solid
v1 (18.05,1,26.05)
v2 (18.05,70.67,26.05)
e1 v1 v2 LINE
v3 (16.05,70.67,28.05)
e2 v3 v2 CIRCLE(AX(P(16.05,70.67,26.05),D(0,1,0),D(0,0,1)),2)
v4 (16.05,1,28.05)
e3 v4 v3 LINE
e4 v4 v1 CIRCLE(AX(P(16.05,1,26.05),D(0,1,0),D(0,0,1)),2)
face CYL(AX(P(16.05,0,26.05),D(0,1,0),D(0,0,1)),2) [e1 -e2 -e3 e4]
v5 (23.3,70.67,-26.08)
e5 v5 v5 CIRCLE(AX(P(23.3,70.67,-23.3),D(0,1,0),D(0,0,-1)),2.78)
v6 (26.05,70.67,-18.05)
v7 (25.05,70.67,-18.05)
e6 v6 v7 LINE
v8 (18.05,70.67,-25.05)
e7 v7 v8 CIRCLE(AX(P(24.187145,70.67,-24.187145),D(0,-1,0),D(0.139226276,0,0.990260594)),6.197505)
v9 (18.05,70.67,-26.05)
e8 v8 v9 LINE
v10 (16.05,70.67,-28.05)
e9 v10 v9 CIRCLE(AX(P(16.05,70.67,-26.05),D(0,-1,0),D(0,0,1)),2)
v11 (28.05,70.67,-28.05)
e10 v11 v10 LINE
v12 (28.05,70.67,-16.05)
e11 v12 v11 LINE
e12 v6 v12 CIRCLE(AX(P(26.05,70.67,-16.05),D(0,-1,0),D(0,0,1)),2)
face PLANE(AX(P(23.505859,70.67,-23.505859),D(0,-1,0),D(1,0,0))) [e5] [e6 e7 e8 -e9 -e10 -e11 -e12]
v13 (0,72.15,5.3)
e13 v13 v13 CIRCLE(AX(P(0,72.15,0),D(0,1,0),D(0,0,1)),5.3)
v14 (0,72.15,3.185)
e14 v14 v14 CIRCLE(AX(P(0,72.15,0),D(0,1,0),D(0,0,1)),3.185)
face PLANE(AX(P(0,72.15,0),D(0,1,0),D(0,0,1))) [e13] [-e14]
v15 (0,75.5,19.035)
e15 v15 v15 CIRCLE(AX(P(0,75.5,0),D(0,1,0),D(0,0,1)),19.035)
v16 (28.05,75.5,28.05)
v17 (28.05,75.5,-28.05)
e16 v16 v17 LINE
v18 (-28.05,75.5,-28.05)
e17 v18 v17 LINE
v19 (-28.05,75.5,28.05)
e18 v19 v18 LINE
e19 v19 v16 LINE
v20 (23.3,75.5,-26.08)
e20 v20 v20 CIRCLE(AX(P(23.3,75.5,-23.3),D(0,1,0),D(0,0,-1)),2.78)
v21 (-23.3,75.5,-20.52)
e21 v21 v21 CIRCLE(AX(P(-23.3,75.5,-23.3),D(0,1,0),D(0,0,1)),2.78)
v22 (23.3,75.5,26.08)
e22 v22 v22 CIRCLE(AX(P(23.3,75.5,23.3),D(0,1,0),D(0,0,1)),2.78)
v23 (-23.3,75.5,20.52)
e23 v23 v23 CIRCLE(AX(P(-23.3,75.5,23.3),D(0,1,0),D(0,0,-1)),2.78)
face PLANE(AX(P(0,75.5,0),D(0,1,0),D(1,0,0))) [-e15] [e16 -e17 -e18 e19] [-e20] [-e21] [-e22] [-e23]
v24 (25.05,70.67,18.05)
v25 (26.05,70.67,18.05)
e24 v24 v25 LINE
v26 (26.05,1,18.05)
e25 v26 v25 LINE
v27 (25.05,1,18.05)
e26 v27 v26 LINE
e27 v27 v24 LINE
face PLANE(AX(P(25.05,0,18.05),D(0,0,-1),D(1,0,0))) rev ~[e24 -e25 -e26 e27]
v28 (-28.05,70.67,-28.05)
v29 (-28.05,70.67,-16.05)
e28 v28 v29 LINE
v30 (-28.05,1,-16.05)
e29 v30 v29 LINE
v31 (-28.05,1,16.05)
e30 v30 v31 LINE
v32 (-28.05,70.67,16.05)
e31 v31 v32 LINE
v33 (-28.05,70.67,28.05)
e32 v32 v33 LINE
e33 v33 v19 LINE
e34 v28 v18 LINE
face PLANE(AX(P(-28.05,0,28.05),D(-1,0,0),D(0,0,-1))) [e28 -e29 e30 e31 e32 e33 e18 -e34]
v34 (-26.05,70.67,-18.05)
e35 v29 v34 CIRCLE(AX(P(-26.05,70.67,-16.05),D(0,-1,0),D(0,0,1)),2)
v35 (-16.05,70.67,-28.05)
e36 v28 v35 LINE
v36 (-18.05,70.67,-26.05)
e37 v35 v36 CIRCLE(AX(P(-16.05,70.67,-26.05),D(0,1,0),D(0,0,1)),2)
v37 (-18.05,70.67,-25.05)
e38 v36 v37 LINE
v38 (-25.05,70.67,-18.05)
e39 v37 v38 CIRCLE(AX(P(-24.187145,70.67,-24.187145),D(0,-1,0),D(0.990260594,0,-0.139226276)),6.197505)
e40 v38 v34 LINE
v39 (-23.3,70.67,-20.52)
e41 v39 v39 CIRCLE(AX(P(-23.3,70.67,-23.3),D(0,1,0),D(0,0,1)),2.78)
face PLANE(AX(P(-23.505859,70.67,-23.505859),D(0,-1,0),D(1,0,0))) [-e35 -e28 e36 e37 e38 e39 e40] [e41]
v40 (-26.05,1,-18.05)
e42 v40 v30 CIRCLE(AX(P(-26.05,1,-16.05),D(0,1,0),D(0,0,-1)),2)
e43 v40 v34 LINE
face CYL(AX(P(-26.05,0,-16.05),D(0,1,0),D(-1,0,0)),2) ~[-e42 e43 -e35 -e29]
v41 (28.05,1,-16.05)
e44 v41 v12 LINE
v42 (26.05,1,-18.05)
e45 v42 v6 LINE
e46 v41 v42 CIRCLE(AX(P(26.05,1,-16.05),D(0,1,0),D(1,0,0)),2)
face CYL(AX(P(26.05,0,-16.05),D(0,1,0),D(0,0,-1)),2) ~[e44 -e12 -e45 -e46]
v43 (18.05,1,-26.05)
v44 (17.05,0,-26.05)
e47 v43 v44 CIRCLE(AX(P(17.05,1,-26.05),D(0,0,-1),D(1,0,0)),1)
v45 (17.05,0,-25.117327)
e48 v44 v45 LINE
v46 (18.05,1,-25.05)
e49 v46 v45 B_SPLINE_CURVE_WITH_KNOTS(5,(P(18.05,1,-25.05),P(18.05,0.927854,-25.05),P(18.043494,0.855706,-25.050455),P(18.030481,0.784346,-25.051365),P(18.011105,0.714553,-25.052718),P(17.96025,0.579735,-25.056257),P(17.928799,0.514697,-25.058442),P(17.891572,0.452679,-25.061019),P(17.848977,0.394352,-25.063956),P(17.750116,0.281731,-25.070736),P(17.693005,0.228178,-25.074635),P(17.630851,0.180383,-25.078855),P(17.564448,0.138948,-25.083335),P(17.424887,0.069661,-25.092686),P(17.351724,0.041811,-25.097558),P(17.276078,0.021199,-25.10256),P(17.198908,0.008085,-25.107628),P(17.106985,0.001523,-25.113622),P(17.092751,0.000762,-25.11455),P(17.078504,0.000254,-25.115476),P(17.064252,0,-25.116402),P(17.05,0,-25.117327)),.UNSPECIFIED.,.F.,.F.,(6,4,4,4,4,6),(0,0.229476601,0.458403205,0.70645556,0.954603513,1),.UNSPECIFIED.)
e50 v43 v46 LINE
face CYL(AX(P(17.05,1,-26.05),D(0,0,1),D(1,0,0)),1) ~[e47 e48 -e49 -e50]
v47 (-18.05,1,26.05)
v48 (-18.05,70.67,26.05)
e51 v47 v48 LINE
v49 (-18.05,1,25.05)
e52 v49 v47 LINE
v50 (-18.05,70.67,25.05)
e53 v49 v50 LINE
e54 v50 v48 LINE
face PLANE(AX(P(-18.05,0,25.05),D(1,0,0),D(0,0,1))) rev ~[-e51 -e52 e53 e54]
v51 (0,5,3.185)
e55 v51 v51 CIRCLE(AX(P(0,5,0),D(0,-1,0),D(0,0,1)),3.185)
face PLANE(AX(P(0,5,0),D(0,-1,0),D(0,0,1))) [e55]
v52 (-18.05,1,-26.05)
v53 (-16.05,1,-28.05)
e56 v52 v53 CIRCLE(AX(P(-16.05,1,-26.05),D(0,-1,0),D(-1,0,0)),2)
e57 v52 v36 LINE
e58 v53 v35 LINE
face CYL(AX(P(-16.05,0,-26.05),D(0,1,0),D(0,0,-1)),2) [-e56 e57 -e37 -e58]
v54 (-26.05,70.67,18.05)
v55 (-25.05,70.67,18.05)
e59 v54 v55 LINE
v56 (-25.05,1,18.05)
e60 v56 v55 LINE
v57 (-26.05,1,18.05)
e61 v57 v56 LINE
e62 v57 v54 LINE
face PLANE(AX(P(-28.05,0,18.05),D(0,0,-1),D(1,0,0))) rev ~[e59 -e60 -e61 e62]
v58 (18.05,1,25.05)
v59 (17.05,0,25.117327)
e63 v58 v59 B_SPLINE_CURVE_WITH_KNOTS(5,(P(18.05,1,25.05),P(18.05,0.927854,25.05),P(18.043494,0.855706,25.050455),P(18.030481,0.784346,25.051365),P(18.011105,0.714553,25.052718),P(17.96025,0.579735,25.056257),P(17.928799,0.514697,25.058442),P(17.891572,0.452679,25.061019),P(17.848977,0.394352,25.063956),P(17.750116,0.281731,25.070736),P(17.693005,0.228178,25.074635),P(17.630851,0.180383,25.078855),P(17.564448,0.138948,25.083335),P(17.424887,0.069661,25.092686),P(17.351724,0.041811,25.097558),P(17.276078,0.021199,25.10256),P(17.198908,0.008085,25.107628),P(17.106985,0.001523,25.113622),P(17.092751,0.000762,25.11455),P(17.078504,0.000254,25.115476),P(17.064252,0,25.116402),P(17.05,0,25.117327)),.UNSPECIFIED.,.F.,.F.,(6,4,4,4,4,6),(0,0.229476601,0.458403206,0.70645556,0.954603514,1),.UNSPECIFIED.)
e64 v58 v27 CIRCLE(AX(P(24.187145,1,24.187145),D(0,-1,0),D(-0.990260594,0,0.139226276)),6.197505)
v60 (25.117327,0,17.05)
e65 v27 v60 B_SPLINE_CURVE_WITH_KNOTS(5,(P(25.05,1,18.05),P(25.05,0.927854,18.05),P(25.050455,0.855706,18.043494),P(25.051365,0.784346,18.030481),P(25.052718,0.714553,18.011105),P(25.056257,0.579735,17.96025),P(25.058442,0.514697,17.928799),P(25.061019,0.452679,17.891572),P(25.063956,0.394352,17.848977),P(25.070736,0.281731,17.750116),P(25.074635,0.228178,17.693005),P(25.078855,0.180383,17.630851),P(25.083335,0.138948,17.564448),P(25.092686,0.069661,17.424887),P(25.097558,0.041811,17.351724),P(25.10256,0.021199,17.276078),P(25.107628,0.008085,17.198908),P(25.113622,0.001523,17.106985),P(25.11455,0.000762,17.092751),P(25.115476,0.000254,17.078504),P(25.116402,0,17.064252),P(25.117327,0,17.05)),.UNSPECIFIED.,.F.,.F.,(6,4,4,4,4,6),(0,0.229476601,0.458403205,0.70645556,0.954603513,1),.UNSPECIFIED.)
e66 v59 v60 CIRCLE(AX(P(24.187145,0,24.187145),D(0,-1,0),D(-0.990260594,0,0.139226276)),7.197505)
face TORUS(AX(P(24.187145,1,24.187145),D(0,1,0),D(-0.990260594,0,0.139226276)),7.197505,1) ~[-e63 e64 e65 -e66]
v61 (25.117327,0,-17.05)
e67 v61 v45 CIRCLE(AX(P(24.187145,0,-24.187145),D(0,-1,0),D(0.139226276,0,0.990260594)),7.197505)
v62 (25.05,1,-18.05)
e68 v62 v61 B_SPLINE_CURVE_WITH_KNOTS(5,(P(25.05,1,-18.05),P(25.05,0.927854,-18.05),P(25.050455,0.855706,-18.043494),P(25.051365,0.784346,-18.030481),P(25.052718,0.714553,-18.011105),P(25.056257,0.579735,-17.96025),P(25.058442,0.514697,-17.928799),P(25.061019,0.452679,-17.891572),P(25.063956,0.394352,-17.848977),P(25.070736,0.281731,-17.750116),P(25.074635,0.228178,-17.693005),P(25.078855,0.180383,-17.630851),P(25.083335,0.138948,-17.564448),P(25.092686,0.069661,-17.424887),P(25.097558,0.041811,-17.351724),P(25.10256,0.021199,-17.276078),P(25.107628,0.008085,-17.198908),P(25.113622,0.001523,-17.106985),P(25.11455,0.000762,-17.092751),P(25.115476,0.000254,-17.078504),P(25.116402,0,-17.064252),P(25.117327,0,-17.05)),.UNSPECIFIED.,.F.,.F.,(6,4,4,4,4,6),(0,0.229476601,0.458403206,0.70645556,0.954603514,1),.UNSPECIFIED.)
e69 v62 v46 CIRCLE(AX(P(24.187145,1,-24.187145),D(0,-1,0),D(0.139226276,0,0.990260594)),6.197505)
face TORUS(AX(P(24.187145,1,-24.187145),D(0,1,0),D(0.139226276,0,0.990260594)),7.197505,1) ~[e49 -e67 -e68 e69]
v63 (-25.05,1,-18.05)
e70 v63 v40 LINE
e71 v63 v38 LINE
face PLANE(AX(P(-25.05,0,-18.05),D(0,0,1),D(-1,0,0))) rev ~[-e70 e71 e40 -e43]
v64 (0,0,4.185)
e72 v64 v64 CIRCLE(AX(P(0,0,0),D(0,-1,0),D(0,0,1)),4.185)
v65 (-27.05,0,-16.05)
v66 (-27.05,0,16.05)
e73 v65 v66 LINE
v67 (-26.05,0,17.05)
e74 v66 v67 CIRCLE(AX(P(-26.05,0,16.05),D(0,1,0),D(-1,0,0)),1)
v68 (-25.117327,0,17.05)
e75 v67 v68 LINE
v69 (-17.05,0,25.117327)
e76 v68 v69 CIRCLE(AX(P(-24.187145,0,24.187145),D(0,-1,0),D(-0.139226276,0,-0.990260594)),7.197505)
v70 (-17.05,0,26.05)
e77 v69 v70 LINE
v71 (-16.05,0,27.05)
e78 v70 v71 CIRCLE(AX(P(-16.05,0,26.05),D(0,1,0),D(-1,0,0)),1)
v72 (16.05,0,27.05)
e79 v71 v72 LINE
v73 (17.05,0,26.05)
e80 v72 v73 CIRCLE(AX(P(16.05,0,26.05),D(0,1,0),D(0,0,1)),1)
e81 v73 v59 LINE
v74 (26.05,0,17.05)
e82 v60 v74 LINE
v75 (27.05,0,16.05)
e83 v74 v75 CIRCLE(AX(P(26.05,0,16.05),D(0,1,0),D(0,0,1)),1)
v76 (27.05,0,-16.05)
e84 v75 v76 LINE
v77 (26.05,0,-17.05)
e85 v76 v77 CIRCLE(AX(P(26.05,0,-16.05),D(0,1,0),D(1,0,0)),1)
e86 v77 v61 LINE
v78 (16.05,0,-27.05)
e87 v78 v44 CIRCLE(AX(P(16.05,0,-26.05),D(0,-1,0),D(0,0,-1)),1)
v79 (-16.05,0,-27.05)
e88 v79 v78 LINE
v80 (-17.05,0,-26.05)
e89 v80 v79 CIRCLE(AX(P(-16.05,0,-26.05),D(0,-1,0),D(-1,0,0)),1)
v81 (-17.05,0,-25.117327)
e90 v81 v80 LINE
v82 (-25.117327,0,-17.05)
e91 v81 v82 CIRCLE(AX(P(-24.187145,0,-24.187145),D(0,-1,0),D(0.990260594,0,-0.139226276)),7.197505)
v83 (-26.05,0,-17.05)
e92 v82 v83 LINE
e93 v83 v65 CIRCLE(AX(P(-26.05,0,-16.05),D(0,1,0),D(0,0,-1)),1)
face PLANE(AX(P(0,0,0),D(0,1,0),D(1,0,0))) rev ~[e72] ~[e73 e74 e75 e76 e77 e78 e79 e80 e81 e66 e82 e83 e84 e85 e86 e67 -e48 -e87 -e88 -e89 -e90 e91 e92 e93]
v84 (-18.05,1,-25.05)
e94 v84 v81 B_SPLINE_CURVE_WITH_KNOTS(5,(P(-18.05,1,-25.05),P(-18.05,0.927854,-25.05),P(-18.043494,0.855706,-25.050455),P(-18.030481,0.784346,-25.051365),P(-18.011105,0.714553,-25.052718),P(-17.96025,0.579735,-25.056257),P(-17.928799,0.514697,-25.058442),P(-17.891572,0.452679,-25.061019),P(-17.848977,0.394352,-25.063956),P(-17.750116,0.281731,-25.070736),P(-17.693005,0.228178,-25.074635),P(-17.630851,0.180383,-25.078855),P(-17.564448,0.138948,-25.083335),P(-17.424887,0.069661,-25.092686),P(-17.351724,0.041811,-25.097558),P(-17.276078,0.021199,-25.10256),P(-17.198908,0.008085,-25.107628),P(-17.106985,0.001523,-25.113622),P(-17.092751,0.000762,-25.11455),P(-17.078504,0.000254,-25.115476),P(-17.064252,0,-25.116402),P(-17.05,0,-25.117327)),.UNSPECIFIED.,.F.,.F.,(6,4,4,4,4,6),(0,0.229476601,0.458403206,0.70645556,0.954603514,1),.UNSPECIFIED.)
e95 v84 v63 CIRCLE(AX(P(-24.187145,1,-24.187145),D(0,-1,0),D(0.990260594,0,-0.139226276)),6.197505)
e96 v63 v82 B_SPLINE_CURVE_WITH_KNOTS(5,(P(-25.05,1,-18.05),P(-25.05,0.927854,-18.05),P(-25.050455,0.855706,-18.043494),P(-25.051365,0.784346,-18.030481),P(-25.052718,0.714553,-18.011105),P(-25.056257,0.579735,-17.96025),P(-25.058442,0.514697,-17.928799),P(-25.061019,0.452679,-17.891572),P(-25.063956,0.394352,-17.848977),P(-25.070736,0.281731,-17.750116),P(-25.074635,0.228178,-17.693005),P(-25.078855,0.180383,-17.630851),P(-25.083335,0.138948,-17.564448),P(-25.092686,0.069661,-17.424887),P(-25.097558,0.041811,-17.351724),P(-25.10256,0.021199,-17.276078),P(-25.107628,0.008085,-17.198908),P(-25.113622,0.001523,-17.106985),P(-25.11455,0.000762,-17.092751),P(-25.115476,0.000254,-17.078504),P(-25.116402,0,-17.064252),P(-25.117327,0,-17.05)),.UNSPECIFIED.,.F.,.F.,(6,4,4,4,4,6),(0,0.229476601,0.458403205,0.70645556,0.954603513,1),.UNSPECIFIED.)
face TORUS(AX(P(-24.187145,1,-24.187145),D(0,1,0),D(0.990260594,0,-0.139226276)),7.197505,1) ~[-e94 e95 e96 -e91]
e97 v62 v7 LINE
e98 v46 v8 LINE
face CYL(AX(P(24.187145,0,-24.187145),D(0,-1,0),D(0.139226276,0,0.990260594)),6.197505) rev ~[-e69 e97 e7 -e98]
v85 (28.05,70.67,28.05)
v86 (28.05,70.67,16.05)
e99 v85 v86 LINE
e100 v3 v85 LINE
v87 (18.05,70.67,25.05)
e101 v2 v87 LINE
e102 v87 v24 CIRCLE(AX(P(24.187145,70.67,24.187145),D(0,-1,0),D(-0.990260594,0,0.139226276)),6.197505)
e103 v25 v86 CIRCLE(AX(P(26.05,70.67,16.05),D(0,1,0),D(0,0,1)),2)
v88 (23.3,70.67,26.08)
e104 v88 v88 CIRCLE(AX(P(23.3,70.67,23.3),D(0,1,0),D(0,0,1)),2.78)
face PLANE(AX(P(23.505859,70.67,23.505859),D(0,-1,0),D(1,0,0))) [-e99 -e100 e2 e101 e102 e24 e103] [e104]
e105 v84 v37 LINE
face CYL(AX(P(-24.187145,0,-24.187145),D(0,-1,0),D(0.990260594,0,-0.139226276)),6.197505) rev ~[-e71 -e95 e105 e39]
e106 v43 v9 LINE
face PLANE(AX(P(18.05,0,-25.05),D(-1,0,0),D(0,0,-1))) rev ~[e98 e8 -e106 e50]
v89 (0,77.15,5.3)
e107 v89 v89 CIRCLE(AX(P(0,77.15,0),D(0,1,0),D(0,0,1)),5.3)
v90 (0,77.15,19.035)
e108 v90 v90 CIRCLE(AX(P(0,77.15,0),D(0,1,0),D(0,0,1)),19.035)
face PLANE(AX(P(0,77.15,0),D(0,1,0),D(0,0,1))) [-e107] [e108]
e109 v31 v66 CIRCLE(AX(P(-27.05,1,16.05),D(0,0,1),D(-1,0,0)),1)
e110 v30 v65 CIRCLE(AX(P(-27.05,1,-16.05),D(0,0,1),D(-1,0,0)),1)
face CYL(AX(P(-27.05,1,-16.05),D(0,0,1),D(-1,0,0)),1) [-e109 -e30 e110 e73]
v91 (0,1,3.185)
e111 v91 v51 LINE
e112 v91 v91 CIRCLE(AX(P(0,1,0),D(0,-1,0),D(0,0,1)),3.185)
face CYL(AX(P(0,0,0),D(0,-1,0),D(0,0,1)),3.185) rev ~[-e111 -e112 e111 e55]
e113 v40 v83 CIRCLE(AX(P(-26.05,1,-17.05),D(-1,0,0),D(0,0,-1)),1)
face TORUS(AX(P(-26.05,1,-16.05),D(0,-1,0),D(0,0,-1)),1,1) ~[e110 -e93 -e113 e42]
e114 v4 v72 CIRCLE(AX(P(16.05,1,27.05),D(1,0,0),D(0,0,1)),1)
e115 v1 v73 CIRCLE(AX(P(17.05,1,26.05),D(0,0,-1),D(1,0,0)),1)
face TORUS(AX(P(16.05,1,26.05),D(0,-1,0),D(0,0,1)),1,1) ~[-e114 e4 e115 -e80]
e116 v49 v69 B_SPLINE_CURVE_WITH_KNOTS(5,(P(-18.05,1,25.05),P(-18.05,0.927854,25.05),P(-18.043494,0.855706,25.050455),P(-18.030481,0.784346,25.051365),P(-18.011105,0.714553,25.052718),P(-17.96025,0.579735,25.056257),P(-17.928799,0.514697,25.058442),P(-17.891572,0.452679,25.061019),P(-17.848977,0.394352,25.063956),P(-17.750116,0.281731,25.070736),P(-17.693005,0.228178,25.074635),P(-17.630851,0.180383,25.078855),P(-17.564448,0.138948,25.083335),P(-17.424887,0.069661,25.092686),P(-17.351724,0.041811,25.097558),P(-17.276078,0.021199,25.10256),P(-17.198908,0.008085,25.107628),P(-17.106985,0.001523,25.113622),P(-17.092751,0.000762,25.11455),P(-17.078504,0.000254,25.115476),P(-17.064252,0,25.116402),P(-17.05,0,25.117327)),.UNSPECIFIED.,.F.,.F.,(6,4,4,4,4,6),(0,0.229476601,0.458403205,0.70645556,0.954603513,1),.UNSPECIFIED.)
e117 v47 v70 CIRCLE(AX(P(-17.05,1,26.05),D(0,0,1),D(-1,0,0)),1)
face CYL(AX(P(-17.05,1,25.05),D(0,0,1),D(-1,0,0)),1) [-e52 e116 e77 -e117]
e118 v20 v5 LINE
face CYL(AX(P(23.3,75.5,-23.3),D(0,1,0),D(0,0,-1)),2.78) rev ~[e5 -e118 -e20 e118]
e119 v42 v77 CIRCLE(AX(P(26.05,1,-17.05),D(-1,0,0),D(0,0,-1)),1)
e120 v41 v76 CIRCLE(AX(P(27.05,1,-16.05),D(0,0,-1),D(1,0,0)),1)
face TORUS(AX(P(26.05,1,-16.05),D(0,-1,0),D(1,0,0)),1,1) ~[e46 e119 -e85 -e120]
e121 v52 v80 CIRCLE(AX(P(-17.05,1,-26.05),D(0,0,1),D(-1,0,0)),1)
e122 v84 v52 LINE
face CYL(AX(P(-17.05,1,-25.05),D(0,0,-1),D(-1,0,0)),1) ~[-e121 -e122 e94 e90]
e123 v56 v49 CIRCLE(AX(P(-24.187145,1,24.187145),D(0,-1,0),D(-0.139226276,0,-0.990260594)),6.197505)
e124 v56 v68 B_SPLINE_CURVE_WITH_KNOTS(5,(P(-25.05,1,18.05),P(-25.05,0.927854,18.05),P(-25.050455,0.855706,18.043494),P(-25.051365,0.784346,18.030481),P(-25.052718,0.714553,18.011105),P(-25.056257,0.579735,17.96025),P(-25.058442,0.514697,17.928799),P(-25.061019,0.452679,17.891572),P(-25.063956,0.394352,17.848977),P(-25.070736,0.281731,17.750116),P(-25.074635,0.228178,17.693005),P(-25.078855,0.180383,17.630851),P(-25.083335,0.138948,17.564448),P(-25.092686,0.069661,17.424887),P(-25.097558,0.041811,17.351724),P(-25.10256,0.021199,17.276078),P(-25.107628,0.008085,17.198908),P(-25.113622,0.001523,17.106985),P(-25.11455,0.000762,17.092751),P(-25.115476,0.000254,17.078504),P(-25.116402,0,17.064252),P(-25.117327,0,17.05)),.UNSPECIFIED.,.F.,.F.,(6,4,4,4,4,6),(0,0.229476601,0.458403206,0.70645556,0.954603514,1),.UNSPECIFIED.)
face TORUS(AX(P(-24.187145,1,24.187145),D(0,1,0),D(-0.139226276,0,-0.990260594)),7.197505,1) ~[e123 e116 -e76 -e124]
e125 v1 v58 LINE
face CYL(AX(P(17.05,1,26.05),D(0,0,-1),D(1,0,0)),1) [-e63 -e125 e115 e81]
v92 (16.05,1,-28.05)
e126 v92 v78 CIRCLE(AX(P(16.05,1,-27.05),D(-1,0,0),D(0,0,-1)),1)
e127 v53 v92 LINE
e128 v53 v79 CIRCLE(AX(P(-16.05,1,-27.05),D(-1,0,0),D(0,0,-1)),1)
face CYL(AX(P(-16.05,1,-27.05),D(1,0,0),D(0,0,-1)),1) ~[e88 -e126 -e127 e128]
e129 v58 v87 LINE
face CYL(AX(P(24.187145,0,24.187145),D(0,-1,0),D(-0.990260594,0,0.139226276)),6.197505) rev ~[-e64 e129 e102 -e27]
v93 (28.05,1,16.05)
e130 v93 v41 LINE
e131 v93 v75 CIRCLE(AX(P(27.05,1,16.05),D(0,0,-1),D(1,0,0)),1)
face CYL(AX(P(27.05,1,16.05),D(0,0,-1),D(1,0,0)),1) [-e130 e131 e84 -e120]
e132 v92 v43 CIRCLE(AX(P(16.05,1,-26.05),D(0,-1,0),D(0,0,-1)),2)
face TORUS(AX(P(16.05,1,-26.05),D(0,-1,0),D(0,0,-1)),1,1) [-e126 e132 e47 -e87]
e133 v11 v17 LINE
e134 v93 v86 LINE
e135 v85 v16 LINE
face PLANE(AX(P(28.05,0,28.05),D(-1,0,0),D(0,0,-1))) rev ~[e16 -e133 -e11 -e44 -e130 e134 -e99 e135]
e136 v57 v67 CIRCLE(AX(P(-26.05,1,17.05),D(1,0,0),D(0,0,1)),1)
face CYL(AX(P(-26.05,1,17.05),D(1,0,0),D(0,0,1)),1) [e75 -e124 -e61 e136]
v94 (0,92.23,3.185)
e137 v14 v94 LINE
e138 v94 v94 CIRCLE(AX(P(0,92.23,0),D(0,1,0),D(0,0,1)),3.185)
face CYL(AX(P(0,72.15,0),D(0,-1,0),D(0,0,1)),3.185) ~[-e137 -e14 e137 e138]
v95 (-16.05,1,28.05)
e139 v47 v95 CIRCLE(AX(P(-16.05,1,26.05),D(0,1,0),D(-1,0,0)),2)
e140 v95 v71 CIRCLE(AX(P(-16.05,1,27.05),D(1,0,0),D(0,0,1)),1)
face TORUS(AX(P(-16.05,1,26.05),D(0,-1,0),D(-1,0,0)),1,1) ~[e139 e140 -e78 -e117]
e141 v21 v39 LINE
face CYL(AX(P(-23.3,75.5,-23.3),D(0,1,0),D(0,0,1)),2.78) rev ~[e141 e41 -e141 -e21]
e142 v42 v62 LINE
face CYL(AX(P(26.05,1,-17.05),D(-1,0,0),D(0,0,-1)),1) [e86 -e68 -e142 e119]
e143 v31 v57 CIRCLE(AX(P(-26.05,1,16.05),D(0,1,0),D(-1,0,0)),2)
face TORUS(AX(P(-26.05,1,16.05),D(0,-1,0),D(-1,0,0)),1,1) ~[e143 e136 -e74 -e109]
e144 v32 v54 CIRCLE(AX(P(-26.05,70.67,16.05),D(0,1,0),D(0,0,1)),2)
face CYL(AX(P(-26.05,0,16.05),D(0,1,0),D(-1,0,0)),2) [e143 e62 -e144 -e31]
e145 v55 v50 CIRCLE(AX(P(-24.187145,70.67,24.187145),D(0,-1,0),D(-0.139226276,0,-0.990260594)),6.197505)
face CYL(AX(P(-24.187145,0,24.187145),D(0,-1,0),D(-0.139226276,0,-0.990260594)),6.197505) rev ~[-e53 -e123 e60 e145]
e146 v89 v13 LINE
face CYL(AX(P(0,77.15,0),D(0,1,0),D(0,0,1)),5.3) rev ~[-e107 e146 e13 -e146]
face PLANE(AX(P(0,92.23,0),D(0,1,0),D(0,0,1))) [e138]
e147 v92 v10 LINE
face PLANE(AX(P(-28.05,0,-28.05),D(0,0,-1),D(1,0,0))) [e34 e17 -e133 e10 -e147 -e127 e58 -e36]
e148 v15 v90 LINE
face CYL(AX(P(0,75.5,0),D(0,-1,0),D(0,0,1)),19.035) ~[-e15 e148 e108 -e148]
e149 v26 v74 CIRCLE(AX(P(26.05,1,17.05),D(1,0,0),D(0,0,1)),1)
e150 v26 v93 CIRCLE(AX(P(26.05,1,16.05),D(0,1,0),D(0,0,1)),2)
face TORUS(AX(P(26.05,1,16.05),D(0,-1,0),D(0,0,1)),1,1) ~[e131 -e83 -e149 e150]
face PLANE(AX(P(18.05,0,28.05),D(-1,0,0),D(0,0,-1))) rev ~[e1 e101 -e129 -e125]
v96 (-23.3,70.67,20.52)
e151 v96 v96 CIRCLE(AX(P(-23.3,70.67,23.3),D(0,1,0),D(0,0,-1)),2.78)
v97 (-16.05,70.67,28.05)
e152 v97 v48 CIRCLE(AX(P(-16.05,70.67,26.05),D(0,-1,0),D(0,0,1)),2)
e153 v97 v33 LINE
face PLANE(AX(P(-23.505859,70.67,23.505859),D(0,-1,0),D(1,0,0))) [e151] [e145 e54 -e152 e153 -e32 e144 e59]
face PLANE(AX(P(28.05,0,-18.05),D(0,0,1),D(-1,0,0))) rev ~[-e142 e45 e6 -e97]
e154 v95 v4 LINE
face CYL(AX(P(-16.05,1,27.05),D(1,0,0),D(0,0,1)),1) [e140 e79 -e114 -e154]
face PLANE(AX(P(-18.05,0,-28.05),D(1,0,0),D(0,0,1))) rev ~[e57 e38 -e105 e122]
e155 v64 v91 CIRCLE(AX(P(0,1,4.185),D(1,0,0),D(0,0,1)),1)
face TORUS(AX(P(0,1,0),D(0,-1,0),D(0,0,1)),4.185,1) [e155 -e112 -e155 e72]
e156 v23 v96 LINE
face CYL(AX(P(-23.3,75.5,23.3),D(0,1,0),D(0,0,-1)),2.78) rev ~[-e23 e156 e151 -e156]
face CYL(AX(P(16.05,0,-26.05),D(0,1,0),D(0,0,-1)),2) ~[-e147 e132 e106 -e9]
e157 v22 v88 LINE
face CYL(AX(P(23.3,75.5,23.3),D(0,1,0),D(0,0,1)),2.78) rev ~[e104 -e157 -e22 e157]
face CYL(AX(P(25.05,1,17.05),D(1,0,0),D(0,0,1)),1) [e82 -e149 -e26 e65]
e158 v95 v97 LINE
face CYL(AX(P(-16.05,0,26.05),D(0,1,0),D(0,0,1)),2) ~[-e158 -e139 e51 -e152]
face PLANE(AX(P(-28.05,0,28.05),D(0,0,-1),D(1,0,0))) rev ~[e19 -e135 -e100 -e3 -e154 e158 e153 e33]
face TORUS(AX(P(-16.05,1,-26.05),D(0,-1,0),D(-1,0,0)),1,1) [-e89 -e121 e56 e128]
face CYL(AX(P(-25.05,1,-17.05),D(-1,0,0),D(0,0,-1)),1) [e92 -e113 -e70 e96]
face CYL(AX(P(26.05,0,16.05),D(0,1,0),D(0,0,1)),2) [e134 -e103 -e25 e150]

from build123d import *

# Parameters (mm, degrees)
ESBO_O1_W                = 56.1
ESBO_O1_H                = 56.1
RESSALTO_EXTRUS_O1_DEPTH = 75.5
ESBO_O2_R                = 19.035
RESSALTO_EXTRUS_O2_DEPTH = 1.65
ESBO_O3_R                = 5.3
CORTE_EXTRUS_O1_DEPTH    = 5
ESBO_O4_R                = 3.185
RESSALTO_EXTRUS_O3_DEPTH = 20.08
CORTE_EXTRUS_O2_DEPTH    = 70.67
ESBO_O6_R                = 2.78
CORTE_EXTRUS_O3_DEPTH    = 4.83
ESBO_O7_R                = 3.185
CORTE_EXTRUS_O4_DEPTH    = 5
FILETE1_R                = 2
FILETE2_R                = 1


with BuildPart() as part:
    # Esboço1 → Ressalto-extrusão1 (new body)
    with BuildSketch(Plane(origin=(0, 0, 0), x_dir=(1, 0, 0), z_dir=(0, 1, 0))):
        Rectangle(ESBO_O1_W, ESBO_O1_H)
    extrude(amount=RESSALTO_EXTRUS_O1_DEPTH)

    # Esboço2 → Ressalto-extrusão2 (add)
    with BuildSketch(Plane(origin=(0, 75.5, 0), x_dir=(1, 0, 0), z_dir=(0, 1, 0))):
        with Locations(Location((0, 0, 0), (0, 0, 270))):
            Circle(ESBO_O2_R)
    extrude(amount=RESSALTO_EXTRUS_O2_DEPTH)

    # Esboço3 → Corte-extrusão1 (cut)
    with BuildSketch(Plane(origin=(0, 77.15, 0), x_dir=(1, 0, 0), z_dir=(0, 1, 0))):
        with Locations(Location((0, 0, 0), (0, 0, 270))):
            Circle(ESBO_O3_R)
    extrude(amount=-CORTE_EXTRUS_O1_DEPTH, mode=Mode.SUBTRACT)

    # Esboço4 → Ressalto-extrusão3 (add)
    with BuildSketch(Plane(origin=(0, 72.15, 0), x_dir=(1, 0, 0), z_dir=(0, 1, 0))):
        with Locations(Location((0, 0, 0), (0, 0, 270))):
            Circle(ESBO_O4_R)
    extrude(amount=RESSALTO_EXTRUS_O3_DEPTH)

    # Esboço5 → Corte-extrusão2 (cut)
    with BuildSketch(Plane.XZ):
        with BuildLine():
            Line((28.05, 28.05), (18.05, 28.05))
            Line((18.05, 28.05), (18.05, 25.05))
            ThreePointArc((18.05, 25.05), (19.80484704, 19.80484704), (25.05, 18.05))
            Line((25.05, 18.05), (28.05, 18.05))
            Line((28.05, 18.05), (28.05, 28.05))
        make_face()
        with BuildLine():
            Line((-28.05, 28.05), (-28.05, 18.05))
            Line((-28.05, 18.05), (-25.05, 18.05))
            ThreePointArc((-25.05, 18.05), (-19.80484704, 19.80484704), (-18.05, 25.05))
            Line((-18.05, 25.05), (-18.05, 28.05))
            Line((-18.05, 28.05), (-28.05, 28.05))
        make_face()
        with BuildLine():
            Line((-25.05, -18.05), (-28.05, -18.05))
            Line((-28.05, -18.05), (-28.05, -28.05))
            Line((-28.05, -28.05), (-18.05, -28.05))
            Line((-18.05, -28.05), (-18.05, -25.05))
            ThreePointArc((-18.05, -25.05), (-19.80484704, -19.80484704), (-25.05, -18.05))
        make_face()
        with BuildLine():
            Line((18.05, -25.05), (18.05, -28.05))
            Line((18.05, -28.05), (28.05, -28.05))
            Line((28.05, -28.05), (28.05, -18.05))
            Line((28.05, -18.05), (25.05, -18.05))
            ThreePointArc((25.05, -18.05), (19.80484704, -19.80484704), (18.05, -25.05))
        make_face()
    extrude(amount=-CORTE_EXTRUS_O2_DEPTH, mode=Mode.SUBTRACT)

    # Esboço6 → Corte-extrusão3 (cut)
    with BuildSketch(Plane(origin=(0, 75.5, 0), x_dir=(1, 0, 0), z_dir=(0, 1, 0))):
        with Locations(Location((-23.3, 23.3, 0), (0, 0, 270))):
            Circle(ESBO_O6_R)
        with Locations(Location((-23.3, -23.3, 0), (0, 0, 90))):
            Circle(ESBO_O6_R)
        with Locations(Location((23.3, 23.3, 0), (0, 0, 90))):
            Circle(ESBO_O6_R)
        with Locations(Location((23.3, -23.3, 0), (0, 0, 270))):
            Circle(ESBO_O6_R)
    extrude(amount=-CORTE_EXTRUS_O3_DEPTH, mode=Mode.SUBTRACT)

    # Esboço7 → Corte-extrusão4 (cut)
    with BuildSketch(Plane.XZ):
        with Locations(Location((0, 0, 0), (0, 0, 90))):
            Circle(ESBO_O7_R)
    extrude(amount=-CORTE_EXTRUS_O4_DEPTH, mode=Mode.SUBTRACT)

    # Filete1
    filete1_edges = [part.edges().sort_by_distance(p)[0] for p in [
        (18.05, 35.335, 28.05),
        (28.05, 35.335, 18.05),
        (-28.05, 35.335, 18.05),
        (-18.05, 35.335, 28.05),
        (-18.05, 35.335, -28.05),
        (-28.05, 35.335, -18.05),
        (28.05, 35.335, -18.05),
        (18.05, 35.335, -28.05),
    ]]
    fillet(filete1_edges, radius=FILETE1_R)

    # Filete2
    filete2_edges = [part.edges().sort_by_distance(p)[0] for p in [
        (0, 0, -3.185),
        (28.05, 0, 0),
        (18.05, 0, 25.55),
        (0, 0, 28.05),
        (-18.05, 0, 25.55),
        (-25.55, 0, 18.05),
        (-28.05, 0, 0),
        (-25.55, 0, -18.05),
        (0, 0, -28.05),
        (27.464213562, 0, 17.464213562),
        (17.464213562, 0, 27.464213562),
        (-17.464213562, 0, 27.464213562),
        (-27.464213562, 0, 17.464213562),
        (-27.464213562, 0, -17.464213562),
        (-17.464213562, 0, -27.464213562),
        (17.464213562, 0, -27.464213562),
        (27.464213562, 0, -17.464213562),
        (19.80484704, 0, 19.80484704),
        (25.55, 0, 18.05),
        (-19.80484704, 0, 19.80484704),
        (-19.80484704, 0, -19.80484704),
        (-18.05, 0, -25.55),
        (19.80484704, 0, -19.80484704),
        (25.55, 0, -18.05),
        (18.05, 0, -25.55),
    ]]
    fillet(filete2_edges, radius=FILETE2_R)


solid = part.part
